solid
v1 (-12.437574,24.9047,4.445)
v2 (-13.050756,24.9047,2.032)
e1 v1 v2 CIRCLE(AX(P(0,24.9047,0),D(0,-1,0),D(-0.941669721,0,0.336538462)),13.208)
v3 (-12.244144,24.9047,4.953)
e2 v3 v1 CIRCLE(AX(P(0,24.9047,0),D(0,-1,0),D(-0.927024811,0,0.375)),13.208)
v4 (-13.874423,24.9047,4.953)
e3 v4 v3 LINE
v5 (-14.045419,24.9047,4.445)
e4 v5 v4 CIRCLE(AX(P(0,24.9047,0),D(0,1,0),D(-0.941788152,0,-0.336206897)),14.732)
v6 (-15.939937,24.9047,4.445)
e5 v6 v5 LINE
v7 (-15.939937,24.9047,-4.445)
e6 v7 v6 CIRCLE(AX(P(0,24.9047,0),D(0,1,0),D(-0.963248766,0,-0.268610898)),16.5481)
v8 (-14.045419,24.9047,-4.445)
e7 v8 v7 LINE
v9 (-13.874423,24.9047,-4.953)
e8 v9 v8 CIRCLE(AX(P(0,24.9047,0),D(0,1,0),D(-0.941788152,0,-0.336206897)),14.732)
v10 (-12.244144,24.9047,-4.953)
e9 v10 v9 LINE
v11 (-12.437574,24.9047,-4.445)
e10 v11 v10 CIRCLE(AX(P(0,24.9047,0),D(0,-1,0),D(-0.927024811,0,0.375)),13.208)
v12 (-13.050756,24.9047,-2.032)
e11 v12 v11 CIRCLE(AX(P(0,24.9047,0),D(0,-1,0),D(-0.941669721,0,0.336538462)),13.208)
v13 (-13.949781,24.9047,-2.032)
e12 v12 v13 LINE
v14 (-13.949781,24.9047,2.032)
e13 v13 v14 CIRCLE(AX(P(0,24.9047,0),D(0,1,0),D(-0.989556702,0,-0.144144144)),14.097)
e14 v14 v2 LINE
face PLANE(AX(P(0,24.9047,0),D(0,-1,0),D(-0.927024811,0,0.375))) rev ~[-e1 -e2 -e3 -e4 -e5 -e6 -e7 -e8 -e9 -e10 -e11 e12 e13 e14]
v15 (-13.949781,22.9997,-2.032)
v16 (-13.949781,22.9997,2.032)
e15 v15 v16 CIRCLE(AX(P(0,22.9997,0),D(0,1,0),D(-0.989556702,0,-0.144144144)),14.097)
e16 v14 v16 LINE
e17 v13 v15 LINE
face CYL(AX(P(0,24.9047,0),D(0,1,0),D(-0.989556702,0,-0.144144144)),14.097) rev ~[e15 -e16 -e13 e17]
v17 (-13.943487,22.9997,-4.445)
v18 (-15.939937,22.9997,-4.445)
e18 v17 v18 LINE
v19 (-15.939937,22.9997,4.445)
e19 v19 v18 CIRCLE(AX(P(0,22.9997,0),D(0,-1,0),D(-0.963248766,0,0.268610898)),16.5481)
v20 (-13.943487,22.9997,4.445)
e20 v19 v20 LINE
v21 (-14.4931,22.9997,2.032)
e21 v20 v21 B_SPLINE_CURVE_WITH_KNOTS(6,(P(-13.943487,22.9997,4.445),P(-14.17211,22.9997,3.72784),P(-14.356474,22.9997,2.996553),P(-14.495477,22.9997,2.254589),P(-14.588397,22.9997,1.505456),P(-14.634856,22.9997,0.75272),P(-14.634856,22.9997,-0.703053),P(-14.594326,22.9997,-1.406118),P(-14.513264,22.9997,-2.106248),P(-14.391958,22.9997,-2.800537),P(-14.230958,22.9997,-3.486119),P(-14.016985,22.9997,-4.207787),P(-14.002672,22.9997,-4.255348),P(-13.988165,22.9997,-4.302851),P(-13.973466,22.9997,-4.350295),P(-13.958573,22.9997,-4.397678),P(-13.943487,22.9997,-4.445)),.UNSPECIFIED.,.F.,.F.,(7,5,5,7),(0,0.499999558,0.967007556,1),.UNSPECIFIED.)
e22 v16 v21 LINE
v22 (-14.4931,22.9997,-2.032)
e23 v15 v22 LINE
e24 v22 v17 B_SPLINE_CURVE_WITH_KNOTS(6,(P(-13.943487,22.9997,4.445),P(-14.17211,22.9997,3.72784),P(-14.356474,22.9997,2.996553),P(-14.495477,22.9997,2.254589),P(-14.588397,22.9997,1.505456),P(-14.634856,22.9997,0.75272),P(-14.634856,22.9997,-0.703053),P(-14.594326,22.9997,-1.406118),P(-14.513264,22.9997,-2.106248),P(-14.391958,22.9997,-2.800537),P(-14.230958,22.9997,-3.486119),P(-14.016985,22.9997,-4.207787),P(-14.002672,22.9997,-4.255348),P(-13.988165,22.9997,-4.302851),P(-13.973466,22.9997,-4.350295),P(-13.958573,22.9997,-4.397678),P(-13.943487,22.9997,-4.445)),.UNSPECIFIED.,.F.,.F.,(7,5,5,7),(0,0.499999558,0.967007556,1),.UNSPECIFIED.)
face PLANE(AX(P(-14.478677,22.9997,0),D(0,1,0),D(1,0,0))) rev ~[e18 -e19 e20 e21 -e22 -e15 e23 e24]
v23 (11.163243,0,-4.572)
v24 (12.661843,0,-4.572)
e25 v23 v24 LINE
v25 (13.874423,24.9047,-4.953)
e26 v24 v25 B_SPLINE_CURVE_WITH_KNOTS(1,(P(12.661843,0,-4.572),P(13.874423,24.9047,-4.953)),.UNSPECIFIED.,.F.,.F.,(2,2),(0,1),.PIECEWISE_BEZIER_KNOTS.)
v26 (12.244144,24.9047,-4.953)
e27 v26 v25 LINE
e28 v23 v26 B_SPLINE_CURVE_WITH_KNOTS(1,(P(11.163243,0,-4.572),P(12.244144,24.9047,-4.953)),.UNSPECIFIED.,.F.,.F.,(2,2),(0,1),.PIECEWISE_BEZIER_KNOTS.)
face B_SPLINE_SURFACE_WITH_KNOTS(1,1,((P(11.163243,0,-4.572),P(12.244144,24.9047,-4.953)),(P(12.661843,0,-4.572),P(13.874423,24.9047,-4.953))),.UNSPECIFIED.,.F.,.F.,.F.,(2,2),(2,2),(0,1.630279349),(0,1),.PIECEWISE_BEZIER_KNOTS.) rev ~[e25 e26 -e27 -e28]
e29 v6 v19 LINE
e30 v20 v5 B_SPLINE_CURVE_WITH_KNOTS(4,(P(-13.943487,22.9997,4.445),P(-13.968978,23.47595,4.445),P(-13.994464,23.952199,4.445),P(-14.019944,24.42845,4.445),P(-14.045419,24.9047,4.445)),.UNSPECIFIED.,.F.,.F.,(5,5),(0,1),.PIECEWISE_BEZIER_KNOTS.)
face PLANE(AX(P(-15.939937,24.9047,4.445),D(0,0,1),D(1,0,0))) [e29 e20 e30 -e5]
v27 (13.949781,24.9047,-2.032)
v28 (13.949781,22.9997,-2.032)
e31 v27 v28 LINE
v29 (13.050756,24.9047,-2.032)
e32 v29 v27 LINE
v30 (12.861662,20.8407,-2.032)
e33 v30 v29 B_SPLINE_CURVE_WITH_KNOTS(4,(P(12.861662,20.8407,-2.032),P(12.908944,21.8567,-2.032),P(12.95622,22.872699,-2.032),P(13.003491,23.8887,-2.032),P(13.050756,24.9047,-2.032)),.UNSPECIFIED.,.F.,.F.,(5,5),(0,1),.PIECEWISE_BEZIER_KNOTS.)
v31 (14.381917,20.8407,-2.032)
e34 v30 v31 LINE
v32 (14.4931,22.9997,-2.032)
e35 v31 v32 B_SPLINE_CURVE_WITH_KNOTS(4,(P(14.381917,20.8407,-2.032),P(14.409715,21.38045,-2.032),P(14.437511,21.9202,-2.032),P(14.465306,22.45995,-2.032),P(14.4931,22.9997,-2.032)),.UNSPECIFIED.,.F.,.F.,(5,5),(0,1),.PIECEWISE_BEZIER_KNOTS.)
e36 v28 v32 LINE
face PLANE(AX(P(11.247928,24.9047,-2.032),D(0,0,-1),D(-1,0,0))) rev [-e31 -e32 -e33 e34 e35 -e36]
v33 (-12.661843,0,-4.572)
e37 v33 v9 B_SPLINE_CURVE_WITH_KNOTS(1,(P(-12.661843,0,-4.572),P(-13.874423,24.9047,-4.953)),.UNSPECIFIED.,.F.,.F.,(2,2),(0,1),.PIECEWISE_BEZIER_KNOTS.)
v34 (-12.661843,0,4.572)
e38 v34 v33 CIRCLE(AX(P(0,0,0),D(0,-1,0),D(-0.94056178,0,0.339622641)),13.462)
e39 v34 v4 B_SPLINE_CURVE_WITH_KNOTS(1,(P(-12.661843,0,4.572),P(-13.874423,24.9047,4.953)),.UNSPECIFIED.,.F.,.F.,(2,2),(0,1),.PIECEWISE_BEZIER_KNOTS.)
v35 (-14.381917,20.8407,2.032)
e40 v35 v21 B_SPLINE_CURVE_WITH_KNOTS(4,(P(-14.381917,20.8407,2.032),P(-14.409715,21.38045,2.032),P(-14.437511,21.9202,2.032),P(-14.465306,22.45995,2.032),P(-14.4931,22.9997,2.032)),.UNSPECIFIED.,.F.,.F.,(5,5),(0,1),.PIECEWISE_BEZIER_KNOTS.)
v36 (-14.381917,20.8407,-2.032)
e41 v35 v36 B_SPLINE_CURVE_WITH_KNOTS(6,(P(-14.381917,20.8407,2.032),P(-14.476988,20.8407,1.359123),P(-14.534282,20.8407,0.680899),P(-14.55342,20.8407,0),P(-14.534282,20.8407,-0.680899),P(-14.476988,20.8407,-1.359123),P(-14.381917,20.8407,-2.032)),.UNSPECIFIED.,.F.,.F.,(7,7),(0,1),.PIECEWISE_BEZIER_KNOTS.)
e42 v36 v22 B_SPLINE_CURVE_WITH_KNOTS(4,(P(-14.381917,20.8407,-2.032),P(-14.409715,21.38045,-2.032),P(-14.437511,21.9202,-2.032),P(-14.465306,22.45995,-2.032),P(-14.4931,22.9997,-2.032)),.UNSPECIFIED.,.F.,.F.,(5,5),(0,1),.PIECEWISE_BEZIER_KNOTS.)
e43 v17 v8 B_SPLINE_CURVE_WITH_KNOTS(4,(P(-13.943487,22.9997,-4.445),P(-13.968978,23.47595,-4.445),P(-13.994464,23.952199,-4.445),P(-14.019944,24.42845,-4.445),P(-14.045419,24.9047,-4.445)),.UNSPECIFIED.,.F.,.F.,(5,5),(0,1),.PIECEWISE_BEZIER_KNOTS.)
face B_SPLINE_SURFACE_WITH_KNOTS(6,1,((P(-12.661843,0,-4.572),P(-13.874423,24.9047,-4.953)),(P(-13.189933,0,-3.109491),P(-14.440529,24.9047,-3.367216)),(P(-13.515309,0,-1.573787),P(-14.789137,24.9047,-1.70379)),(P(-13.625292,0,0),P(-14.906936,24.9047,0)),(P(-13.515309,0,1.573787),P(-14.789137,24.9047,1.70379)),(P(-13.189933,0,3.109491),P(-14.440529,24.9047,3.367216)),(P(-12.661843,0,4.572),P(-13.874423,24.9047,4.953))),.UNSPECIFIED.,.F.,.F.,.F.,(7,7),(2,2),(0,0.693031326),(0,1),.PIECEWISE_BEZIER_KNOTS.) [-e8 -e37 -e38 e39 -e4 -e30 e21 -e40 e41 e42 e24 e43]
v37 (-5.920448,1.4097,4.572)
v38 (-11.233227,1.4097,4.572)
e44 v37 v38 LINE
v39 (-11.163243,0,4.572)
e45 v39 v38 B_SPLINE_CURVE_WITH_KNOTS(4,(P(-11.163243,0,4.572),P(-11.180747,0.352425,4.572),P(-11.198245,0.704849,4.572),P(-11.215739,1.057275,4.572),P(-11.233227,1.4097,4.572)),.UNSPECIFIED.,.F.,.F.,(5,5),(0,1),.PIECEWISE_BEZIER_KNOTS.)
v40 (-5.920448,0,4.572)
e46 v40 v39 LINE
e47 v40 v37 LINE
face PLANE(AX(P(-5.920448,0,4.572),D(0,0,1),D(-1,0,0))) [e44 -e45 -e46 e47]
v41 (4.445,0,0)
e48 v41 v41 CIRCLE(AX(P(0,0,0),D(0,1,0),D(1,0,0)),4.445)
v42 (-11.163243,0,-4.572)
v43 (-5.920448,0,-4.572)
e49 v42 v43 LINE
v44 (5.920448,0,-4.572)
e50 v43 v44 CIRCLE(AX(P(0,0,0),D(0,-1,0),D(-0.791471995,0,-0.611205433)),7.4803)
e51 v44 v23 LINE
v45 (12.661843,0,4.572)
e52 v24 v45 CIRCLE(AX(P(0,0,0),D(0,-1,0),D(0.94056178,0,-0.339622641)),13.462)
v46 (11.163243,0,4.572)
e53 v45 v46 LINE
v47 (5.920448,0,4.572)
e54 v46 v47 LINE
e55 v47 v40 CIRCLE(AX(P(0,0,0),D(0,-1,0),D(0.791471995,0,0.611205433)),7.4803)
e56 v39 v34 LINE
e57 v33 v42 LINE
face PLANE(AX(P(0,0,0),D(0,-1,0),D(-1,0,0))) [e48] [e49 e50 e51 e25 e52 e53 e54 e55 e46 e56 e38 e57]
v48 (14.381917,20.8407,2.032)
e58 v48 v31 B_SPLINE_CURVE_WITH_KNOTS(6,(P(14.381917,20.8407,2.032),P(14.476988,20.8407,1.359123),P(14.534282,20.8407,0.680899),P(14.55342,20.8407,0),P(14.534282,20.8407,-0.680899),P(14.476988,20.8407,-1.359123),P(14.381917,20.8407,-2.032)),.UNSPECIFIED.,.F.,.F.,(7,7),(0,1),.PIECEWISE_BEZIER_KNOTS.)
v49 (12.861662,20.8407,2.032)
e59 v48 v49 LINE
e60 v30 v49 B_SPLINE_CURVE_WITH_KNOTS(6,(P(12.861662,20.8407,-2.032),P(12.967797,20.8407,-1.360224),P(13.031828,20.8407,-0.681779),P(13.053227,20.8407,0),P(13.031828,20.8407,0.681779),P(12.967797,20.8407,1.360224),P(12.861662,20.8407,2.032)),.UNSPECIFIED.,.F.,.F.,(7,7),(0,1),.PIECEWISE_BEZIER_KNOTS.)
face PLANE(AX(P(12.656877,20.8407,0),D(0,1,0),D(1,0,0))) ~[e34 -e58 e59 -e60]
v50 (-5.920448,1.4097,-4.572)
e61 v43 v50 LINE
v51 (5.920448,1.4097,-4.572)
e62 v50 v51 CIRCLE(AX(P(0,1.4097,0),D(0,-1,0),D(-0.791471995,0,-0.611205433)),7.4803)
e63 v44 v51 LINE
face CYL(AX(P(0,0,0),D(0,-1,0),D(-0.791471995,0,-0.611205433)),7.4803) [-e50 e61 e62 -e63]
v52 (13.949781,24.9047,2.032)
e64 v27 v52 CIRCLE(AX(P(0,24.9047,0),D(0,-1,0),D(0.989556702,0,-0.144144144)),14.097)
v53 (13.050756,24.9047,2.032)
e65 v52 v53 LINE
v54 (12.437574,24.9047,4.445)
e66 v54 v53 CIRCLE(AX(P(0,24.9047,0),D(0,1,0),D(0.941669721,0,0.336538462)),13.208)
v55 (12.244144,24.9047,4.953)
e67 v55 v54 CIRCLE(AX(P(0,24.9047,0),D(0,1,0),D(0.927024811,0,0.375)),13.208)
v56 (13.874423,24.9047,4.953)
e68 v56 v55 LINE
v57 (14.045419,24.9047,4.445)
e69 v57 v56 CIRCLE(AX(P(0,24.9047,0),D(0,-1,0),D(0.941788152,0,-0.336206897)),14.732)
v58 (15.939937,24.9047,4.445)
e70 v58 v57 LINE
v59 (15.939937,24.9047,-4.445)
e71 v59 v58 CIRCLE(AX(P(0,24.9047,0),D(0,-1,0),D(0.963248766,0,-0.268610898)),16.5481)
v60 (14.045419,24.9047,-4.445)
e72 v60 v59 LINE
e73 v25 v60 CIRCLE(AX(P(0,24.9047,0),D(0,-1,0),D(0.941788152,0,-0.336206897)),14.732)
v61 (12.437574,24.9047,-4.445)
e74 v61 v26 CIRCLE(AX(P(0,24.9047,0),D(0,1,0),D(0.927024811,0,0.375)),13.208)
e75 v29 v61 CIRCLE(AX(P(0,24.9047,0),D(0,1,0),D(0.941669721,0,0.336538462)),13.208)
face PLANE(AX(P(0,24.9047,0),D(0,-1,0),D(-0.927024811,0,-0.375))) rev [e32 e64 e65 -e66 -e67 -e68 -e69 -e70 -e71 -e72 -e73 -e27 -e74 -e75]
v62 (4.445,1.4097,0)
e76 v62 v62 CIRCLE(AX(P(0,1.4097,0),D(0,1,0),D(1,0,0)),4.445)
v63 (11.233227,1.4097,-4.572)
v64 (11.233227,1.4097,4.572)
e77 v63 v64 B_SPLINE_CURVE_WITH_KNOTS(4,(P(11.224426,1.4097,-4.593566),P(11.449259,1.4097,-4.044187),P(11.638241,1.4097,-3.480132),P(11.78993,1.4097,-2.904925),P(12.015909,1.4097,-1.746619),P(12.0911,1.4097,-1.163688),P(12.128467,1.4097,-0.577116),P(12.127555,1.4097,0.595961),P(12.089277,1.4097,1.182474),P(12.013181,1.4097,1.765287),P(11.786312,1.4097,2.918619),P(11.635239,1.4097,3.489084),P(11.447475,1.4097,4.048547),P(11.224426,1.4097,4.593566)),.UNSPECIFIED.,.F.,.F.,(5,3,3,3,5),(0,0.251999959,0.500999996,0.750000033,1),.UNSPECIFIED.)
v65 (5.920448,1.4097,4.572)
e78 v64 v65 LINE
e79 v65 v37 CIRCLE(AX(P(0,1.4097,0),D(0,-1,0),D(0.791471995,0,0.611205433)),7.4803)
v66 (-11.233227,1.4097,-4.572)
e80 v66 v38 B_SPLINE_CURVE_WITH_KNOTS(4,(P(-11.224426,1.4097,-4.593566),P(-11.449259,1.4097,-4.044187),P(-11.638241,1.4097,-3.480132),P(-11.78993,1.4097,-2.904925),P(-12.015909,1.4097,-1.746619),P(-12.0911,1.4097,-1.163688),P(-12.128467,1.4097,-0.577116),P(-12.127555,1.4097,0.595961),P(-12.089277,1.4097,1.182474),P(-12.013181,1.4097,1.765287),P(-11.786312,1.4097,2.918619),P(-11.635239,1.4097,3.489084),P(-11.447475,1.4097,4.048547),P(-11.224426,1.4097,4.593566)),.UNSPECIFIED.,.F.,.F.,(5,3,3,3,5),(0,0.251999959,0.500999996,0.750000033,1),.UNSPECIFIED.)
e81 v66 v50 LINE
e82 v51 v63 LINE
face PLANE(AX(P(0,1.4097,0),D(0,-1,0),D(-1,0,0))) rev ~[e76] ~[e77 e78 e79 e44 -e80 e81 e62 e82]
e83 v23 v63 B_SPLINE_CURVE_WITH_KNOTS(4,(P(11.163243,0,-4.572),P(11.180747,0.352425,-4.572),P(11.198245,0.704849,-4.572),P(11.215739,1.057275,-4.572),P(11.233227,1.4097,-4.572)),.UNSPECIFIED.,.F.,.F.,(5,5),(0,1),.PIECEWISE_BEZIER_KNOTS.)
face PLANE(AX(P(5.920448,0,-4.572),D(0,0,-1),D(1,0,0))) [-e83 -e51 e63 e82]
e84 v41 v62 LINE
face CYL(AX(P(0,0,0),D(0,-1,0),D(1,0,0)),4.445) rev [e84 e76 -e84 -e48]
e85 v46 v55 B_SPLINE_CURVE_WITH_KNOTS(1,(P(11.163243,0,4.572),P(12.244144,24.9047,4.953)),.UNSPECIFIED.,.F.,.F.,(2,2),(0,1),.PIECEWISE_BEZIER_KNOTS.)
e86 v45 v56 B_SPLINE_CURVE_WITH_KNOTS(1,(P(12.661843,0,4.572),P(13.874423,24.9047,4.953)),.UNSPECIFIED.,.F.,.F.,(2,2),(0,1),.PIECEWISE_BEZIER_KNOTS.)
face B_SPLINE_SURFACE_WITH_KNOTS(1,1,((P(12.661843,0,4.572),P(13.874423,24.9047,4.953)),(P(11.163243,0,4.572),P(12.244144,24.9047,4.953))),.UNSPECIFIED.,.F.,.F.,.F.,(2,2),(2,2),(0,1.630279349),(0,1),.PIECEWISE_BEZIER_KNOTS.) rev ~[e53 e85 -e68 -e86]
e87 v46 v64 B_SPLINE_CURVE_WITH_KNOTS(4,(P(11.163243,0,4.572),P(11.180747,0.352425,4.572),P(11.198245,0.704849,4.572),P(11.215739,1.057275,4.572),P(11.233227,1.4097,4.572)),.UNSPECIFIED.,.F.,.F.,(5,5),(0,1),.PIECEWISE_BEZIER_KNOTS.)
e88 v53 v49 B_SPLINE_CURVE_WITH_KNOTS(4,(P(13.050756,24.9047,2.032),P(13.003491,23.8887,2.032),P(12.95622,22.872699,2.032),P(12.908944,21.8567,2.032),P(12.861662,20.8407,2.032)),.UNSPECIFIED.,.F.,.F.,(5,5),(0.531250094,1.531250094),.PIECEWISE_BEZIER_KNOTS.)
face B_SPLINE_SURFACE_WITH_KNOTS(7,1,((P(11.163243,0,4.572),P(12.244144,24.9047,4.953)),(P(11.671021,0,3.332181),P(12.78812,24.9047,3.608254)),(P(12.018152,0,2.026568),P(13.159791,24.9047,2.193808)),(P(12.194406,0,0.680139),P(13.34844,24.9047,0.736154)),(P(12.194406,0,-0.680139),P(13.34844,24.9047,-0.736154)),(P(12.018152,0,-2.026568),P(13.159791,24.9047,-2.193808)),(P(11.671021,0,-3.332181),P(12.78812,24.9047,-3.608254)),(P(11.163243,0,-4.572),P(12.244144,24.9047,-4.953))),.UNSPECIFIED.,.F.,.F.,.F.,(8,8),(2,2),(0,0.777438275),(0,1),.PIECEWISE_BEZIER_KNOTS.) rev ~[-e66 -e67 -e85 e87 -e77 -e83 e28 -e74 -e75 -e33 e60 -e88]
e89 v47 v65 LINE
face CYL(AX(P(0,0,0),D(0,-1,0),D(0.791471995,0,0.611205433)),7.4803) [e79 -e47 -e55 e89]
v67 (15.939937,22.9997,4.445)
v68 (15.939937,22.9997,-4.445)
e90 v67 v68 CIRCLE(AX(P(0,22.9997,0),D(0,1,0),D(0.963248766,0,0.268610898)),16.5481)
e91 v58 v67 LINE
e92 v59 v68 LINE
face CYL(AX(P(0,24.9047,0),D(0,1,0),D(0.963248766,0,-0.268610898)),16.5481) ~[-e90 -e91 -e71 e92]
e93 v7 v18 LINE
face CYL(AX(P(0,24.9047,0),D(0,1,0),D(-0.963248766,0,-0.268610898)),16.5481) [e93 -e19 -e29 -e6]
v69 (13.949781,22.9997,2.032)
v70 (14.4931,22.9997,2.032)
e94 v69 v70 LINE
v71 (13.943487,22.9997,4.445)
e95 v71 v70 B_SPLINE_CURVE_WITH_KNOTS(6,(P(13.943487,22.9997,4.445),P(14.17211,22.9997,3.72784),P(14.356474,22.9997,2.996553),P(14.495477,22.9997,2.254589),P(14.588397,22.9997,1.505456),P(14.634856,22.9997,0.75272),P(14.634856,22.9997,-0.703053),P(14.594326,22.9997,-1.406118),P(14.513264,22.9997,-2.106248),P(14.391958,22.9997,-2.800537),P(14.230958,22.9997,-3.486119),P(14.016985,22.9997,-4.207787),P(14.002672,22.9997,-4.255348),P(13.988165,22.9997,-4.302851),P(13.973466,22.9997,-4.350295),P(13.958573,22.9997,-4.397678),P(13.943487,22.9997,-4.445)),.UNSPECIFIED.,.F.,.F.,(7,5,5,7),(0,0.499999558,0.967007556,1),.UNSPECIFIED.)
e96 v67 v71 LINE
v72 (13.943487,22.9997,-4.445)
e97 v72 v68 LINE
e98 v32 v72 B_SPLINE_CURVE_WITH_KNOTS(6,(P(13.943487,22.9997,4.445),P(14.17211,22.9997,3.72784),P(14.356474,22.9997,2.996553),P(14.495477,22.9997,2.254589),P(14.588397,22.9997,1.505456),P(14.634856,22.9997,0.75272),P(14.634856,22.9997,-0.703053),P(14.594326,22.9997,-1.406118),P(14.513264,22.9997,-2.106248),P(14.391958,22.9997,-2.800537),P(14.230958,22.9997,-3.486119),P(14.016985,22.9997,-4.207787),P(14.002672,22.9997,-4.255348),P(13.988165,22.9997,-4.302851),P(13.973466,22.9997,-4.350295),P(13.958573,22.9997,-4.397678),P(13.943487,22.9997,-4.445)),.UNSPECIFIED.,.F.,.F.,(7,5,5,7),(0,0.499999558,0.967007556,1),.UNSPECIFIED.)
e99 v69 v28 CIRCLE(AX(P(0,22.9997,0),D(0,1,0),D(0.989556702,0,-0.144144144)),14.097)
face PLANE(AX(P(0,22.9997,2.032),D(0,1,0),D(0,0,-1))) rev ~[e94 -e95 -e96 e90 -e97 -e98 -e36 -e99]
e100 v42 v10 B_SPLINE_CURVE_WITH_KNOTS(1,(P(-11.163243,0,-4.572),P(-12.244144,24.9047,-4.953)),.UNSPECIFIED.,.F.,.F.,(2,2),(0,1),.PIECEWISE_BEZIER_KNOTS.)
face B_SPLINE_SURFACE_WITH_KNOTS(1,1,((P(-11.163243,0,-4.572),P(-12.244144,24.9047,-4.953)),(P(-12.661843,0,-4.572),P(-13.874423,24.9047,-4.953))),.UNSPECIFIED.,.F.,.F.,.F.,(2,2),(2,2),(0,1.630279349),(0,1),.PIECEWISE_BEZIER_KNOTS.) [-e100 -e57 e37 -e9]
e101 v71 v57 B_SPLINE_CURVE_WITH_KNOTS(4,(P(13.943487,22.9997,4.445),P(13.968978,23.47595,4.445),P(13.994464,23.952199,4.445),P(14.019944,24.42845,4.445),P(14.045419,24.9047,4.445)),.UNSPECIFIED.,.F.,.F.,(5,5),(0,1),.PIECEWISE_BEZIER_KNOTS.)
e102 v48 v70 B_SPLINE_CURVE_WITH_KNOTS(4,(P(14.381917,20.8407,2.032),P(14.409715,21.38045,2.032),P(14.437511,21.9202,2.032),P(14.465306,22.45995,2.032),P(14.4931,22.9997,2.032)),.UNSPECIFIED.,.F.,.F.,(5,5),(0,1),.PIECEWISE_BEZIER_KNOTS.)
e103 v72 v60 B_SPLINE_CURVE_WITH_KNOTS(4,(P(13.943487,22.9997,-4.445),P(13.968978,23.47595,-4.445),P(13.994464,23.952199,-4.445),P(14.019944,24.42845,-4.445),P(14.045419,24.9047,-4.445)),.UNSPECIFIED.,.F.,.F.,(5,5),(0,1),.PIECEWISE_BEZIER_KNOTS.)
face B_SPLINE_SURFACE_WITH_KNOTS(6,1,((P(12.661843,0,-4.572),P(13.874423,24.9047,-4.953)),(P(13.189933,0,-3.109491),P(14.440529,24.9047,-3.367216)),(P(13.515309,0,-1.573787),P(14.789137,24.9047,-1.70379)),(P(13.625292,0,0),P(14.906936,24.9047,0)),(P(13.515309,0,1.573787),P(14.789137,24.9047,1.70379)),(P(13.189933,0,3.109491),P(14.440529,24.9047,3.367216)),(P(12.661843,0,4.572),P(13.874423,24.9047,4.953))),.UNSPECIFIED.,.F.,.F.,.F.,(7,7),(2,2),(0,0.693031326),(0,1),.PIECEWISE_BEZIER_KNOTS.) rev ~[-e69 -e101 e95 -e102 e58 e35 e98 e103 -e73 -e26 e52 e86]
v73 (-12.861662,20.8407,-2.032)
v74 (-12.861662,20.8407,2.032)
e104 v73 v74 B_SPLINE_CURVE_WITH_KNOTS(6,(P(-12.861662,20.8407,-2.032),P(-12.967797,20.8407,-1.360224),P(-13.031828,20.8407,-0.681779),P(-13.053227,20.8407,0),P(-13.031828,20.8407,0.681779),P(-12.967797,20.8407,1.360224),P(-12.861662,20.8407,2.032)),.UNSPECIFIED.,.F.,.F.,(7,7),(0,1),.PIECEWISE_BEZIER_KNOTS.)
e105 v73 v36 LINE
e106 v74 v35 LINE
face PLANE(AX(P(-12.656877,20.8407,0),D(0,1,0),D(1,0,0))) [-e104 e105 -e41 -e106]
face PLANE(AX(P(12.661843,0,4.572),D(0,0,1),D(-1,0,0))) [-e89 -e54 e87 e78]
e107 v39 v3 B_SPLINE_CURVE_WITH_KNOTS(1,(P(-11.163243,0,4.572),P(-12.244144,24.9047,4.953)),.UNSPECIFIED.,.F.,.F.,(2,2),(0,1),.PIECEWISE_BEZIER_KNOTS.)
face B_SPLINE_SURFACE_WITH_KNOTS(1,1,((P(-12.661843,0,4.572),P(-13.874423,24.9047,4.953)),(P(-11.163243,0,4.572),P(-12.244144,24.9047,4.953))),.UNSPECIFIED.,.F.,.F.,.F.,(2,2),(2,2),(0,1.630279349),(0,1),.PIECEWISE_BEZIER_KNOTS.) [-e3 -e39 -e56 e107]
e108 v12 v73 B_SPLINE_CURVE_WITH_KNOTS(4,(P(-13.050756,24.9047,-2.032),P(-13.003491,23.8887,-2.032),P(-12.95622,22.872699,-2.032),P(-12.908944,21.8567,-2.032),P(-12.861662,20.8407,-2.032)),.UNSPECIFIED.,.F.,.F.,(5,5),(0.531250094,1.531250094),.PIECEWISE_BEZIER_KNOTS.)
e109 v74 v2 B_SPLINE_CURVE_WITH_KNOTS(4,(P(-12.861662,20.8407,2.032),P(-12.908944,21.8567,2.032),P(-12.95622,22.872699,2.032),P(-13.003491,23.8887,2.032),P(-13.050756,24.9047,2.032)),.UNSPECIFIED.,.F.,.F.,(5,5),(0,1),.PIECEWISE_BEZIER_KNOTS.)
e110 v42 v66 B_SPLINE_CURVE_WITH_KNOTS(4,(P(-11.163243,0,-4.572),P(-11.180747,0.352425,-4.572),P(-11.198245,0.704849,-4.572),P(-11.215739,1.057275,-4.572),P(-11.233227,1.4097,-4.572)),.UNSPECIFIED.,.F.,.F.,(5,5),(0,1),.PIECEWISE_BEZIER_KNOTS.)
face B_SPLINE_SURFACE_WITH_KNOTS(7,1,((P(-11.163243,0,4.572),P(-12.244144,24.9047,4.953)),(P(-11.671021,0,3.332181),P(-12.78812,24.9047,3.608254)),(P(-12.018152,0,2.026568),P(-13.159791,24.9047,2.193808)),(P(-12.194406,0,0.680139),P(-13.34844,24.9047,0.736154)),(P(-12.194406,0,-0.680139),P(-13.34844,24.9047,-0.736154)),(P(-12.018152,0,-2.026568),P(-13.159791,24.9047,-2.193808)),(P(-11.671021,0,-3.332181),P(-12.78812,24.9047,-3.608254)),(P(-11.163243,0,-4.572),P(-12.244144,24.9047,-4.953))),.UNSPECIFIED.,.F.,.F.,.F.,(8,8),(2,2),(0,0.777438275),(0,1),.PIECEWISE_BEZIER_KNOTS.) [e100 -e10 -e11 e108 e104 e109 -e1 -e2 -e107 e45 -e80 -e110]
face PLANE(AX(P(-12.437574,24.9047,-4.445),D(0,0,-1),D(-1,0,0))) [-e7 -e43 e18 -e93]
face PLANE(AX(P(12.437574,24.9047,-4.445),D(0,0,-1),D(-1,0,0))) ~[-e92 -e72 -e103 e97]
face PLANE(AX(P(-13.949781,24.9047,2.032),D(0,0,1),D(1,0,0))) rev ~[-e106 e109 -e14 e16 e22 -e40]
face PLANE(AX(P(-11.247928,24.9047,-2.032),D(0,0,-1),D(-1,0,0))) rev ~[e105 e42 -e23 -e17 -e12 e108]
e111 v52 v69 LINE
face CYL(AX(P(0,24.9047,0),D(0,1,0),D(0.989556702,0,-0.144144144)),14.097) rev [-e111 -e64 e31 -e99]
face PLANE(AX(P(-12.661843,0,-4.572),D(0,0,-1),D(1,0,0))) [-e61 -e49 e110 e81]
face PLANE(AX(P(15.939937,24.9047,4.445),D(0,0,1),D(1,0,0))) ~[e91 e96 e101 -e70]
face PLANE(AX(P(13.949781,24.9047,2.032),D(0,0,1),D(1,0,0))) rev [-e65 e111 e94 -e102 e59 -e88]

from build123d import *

# Parameters (mm, degrees)
SKETCH1_R                 = 4.445
BASE_DEPTH                = 1.4097
RADIAL_FLANGE_DEPTH       = 1.905
AXIAL_CUT_OUT_DEPTH       = 4.064
SKETCH6_W                 = 4.064
SKETCH6_H                 = 2.159
RADIAL_CUT_OUT_DEPTH      = 17.5481001
RADIAL_CUT_OUT_DEPTH_BACK = 17.5481001


with BuildPart() as part:
    # Sketch1 → Base (new body)
    with BuildSketch(Plane(origin=(0, 0, 0), x_dir=(1, 0, 0), z_dir=(0, 1, 0))):
        with BuildLine():
            Line((-12.661842678, 4.572), (-5.920447964, 4.572))
            ThreePointArc((-5.920447964, 4.572), (0, 7.4803), (5.920447964, 4.572))
            Line((5.920447964, 4.572), (12.661842678, 4.572))
            ThreePointArc((12.661842678, 4.572), (13.462, 0), (12.661842678, -4.572))
            Line((12.661842678, -4.572), (5.920447964, -4.572))
            ThreePointArc((5.920447964, -4.572), (0, -7.4803), (-5.920447964, -4.572))
            Line((-5.920447964, -4.572), (-12.661842678, -4.572))
            ThreePointArc((-12.661842678, -4.572), (-13.462, 0), (-12.661842678, 4.572))
        make_face()
        Circle(SKETCH1_R, mode=Mode.SUBTRACT)
    extrude(amount=BASE_DEPTH)

    # Sketch3 → Arm loft section 0
    with BuildSketch(Plane(origin=(0, 0, 0), x_dir=(1, 0, 0), z_dir=(0, 1, 0))):
        with BuildLine():
            Line((-12.661842678, -4.572), (-11.163242678, -4.572))
            ThreePointArc((-11.163242678, -4.572), (-12.06321562, 0), (-11.163242678, 4.572))
            Line((-11.163242678, 4.572), (-12.661842678, 4.572))
            ThreePointArc((-12.661842678, 4.572), (-13.462, 0), (-12.661842678, -4.572))
        make_face()
    # Sketch2 → Arm loft section 1
    with BuildSketch(Plane(origin=(0, 24.9047, 0), x_dir=(-1, 0, 0), z_dir=(0, -1, 0))):
        with BuildLine():
            Line((12.244143702, 4.953), (13.874423051, 4.953))
            ThreePointArc((13.874423051, 4.953), (14.732, 0), (13.874423051, -4.953))
            Line((13.874423051, -4.953), (12.244143702, -4.953))
            ThreePointArc((12.244143702, -4.953), (13.208, 0), (12.244143702, 4.953))
        make_face()
    arm_loft = loft()

    # Mirror of arm loft: Arm loft across plane
    add(arm_loft.mirror(Plane(origin=(0, 0, 0), x_dir=(0, 0, 1), z_dir=(1, 0, 0))))

    # Sketch4 → Radial flange (add)
    with BuildSketch(Plane(origin=(0, 24.9047, 0), x_dir=(-1, 0, 0), z_dir=(0, -1, 0))):
        with BuildLine():
            Line((12.437573678, 4.445), (15.939936907, 4.445))
            ThreePointArc((15.939936907, 4.445), (16.5481, 0), (15.939936907, -4.445))
            Line((15.939936907, -4.445), (12.437573678, -4.445))
            ThreePointArc((12.437573678, -4.445), (13.208, 0), (12.437573678, 4.445))
        make_face()
    radial_flange = extrude(amount=RADIAL_FLANGE_DEPTH)

    # Sketch5 → Axial cut-out (cut)
    with BuildSketch(Plane(origin=(0, 24.9047, 0), x_dir=(1, 0, 0), z_dir=(0, 1, 0))):
        with BuildLine():
            Line((-11.247927631, 2.032), (-13.949780823, 2.032))
            ThreePointArc((-13.949780823, 2.032), (-14.097, 0), (-13.949780823, -2.032))
            Line((-13.949780823, -2.032), (-11.247927631, -2.032))
            ThreePointArc((-11.247927631, -2.032), (-11.43, 0), (-11.247927631, 2.032))
        make_face()
    axial_cut_out = extrude(amount=-AXIAL_CUT_OUT_DEPTH, mode=Mode.SUBTRACT)

    # Mirror of radial flange and axial cut-out: Radial flange, Axial cut-out across plane
    add(radial_flange.mirror(Plane(origin=(0, 0, 0), x_dir=(0, 0, 1), z_dir=(1, 0, 0))))
    add(axial_cut_out.mirror(Plane(origin=(0, 0, 0), x_dir=(0, 0, 1), z_dir=(1, 0, 0))), mode=Mode.SUBTRACT)

    # Sketch6 → Radial cut-out (cut, two sides)
    with BuildSketch(Plane(origin=(0, 0, 0), x_dir=(0, 0, -1), z_dir=(1, 0, 0))) as radial_cut_out_sk:
        with Locations((0, 21.9202)):
            Rectangle(SKETCH6_W, SKETCH6_H)
    extrude(amount=RADIAL_CUT_OUT_DEPTH, mode=Mode.SUBTRACT)
    extrude(radial_cut_out_sk.sketch, amount=-RADIAL_CUT_OUT_DEPTH_BACK, mode=Mode.SUBTRACT)


solid = part.part
